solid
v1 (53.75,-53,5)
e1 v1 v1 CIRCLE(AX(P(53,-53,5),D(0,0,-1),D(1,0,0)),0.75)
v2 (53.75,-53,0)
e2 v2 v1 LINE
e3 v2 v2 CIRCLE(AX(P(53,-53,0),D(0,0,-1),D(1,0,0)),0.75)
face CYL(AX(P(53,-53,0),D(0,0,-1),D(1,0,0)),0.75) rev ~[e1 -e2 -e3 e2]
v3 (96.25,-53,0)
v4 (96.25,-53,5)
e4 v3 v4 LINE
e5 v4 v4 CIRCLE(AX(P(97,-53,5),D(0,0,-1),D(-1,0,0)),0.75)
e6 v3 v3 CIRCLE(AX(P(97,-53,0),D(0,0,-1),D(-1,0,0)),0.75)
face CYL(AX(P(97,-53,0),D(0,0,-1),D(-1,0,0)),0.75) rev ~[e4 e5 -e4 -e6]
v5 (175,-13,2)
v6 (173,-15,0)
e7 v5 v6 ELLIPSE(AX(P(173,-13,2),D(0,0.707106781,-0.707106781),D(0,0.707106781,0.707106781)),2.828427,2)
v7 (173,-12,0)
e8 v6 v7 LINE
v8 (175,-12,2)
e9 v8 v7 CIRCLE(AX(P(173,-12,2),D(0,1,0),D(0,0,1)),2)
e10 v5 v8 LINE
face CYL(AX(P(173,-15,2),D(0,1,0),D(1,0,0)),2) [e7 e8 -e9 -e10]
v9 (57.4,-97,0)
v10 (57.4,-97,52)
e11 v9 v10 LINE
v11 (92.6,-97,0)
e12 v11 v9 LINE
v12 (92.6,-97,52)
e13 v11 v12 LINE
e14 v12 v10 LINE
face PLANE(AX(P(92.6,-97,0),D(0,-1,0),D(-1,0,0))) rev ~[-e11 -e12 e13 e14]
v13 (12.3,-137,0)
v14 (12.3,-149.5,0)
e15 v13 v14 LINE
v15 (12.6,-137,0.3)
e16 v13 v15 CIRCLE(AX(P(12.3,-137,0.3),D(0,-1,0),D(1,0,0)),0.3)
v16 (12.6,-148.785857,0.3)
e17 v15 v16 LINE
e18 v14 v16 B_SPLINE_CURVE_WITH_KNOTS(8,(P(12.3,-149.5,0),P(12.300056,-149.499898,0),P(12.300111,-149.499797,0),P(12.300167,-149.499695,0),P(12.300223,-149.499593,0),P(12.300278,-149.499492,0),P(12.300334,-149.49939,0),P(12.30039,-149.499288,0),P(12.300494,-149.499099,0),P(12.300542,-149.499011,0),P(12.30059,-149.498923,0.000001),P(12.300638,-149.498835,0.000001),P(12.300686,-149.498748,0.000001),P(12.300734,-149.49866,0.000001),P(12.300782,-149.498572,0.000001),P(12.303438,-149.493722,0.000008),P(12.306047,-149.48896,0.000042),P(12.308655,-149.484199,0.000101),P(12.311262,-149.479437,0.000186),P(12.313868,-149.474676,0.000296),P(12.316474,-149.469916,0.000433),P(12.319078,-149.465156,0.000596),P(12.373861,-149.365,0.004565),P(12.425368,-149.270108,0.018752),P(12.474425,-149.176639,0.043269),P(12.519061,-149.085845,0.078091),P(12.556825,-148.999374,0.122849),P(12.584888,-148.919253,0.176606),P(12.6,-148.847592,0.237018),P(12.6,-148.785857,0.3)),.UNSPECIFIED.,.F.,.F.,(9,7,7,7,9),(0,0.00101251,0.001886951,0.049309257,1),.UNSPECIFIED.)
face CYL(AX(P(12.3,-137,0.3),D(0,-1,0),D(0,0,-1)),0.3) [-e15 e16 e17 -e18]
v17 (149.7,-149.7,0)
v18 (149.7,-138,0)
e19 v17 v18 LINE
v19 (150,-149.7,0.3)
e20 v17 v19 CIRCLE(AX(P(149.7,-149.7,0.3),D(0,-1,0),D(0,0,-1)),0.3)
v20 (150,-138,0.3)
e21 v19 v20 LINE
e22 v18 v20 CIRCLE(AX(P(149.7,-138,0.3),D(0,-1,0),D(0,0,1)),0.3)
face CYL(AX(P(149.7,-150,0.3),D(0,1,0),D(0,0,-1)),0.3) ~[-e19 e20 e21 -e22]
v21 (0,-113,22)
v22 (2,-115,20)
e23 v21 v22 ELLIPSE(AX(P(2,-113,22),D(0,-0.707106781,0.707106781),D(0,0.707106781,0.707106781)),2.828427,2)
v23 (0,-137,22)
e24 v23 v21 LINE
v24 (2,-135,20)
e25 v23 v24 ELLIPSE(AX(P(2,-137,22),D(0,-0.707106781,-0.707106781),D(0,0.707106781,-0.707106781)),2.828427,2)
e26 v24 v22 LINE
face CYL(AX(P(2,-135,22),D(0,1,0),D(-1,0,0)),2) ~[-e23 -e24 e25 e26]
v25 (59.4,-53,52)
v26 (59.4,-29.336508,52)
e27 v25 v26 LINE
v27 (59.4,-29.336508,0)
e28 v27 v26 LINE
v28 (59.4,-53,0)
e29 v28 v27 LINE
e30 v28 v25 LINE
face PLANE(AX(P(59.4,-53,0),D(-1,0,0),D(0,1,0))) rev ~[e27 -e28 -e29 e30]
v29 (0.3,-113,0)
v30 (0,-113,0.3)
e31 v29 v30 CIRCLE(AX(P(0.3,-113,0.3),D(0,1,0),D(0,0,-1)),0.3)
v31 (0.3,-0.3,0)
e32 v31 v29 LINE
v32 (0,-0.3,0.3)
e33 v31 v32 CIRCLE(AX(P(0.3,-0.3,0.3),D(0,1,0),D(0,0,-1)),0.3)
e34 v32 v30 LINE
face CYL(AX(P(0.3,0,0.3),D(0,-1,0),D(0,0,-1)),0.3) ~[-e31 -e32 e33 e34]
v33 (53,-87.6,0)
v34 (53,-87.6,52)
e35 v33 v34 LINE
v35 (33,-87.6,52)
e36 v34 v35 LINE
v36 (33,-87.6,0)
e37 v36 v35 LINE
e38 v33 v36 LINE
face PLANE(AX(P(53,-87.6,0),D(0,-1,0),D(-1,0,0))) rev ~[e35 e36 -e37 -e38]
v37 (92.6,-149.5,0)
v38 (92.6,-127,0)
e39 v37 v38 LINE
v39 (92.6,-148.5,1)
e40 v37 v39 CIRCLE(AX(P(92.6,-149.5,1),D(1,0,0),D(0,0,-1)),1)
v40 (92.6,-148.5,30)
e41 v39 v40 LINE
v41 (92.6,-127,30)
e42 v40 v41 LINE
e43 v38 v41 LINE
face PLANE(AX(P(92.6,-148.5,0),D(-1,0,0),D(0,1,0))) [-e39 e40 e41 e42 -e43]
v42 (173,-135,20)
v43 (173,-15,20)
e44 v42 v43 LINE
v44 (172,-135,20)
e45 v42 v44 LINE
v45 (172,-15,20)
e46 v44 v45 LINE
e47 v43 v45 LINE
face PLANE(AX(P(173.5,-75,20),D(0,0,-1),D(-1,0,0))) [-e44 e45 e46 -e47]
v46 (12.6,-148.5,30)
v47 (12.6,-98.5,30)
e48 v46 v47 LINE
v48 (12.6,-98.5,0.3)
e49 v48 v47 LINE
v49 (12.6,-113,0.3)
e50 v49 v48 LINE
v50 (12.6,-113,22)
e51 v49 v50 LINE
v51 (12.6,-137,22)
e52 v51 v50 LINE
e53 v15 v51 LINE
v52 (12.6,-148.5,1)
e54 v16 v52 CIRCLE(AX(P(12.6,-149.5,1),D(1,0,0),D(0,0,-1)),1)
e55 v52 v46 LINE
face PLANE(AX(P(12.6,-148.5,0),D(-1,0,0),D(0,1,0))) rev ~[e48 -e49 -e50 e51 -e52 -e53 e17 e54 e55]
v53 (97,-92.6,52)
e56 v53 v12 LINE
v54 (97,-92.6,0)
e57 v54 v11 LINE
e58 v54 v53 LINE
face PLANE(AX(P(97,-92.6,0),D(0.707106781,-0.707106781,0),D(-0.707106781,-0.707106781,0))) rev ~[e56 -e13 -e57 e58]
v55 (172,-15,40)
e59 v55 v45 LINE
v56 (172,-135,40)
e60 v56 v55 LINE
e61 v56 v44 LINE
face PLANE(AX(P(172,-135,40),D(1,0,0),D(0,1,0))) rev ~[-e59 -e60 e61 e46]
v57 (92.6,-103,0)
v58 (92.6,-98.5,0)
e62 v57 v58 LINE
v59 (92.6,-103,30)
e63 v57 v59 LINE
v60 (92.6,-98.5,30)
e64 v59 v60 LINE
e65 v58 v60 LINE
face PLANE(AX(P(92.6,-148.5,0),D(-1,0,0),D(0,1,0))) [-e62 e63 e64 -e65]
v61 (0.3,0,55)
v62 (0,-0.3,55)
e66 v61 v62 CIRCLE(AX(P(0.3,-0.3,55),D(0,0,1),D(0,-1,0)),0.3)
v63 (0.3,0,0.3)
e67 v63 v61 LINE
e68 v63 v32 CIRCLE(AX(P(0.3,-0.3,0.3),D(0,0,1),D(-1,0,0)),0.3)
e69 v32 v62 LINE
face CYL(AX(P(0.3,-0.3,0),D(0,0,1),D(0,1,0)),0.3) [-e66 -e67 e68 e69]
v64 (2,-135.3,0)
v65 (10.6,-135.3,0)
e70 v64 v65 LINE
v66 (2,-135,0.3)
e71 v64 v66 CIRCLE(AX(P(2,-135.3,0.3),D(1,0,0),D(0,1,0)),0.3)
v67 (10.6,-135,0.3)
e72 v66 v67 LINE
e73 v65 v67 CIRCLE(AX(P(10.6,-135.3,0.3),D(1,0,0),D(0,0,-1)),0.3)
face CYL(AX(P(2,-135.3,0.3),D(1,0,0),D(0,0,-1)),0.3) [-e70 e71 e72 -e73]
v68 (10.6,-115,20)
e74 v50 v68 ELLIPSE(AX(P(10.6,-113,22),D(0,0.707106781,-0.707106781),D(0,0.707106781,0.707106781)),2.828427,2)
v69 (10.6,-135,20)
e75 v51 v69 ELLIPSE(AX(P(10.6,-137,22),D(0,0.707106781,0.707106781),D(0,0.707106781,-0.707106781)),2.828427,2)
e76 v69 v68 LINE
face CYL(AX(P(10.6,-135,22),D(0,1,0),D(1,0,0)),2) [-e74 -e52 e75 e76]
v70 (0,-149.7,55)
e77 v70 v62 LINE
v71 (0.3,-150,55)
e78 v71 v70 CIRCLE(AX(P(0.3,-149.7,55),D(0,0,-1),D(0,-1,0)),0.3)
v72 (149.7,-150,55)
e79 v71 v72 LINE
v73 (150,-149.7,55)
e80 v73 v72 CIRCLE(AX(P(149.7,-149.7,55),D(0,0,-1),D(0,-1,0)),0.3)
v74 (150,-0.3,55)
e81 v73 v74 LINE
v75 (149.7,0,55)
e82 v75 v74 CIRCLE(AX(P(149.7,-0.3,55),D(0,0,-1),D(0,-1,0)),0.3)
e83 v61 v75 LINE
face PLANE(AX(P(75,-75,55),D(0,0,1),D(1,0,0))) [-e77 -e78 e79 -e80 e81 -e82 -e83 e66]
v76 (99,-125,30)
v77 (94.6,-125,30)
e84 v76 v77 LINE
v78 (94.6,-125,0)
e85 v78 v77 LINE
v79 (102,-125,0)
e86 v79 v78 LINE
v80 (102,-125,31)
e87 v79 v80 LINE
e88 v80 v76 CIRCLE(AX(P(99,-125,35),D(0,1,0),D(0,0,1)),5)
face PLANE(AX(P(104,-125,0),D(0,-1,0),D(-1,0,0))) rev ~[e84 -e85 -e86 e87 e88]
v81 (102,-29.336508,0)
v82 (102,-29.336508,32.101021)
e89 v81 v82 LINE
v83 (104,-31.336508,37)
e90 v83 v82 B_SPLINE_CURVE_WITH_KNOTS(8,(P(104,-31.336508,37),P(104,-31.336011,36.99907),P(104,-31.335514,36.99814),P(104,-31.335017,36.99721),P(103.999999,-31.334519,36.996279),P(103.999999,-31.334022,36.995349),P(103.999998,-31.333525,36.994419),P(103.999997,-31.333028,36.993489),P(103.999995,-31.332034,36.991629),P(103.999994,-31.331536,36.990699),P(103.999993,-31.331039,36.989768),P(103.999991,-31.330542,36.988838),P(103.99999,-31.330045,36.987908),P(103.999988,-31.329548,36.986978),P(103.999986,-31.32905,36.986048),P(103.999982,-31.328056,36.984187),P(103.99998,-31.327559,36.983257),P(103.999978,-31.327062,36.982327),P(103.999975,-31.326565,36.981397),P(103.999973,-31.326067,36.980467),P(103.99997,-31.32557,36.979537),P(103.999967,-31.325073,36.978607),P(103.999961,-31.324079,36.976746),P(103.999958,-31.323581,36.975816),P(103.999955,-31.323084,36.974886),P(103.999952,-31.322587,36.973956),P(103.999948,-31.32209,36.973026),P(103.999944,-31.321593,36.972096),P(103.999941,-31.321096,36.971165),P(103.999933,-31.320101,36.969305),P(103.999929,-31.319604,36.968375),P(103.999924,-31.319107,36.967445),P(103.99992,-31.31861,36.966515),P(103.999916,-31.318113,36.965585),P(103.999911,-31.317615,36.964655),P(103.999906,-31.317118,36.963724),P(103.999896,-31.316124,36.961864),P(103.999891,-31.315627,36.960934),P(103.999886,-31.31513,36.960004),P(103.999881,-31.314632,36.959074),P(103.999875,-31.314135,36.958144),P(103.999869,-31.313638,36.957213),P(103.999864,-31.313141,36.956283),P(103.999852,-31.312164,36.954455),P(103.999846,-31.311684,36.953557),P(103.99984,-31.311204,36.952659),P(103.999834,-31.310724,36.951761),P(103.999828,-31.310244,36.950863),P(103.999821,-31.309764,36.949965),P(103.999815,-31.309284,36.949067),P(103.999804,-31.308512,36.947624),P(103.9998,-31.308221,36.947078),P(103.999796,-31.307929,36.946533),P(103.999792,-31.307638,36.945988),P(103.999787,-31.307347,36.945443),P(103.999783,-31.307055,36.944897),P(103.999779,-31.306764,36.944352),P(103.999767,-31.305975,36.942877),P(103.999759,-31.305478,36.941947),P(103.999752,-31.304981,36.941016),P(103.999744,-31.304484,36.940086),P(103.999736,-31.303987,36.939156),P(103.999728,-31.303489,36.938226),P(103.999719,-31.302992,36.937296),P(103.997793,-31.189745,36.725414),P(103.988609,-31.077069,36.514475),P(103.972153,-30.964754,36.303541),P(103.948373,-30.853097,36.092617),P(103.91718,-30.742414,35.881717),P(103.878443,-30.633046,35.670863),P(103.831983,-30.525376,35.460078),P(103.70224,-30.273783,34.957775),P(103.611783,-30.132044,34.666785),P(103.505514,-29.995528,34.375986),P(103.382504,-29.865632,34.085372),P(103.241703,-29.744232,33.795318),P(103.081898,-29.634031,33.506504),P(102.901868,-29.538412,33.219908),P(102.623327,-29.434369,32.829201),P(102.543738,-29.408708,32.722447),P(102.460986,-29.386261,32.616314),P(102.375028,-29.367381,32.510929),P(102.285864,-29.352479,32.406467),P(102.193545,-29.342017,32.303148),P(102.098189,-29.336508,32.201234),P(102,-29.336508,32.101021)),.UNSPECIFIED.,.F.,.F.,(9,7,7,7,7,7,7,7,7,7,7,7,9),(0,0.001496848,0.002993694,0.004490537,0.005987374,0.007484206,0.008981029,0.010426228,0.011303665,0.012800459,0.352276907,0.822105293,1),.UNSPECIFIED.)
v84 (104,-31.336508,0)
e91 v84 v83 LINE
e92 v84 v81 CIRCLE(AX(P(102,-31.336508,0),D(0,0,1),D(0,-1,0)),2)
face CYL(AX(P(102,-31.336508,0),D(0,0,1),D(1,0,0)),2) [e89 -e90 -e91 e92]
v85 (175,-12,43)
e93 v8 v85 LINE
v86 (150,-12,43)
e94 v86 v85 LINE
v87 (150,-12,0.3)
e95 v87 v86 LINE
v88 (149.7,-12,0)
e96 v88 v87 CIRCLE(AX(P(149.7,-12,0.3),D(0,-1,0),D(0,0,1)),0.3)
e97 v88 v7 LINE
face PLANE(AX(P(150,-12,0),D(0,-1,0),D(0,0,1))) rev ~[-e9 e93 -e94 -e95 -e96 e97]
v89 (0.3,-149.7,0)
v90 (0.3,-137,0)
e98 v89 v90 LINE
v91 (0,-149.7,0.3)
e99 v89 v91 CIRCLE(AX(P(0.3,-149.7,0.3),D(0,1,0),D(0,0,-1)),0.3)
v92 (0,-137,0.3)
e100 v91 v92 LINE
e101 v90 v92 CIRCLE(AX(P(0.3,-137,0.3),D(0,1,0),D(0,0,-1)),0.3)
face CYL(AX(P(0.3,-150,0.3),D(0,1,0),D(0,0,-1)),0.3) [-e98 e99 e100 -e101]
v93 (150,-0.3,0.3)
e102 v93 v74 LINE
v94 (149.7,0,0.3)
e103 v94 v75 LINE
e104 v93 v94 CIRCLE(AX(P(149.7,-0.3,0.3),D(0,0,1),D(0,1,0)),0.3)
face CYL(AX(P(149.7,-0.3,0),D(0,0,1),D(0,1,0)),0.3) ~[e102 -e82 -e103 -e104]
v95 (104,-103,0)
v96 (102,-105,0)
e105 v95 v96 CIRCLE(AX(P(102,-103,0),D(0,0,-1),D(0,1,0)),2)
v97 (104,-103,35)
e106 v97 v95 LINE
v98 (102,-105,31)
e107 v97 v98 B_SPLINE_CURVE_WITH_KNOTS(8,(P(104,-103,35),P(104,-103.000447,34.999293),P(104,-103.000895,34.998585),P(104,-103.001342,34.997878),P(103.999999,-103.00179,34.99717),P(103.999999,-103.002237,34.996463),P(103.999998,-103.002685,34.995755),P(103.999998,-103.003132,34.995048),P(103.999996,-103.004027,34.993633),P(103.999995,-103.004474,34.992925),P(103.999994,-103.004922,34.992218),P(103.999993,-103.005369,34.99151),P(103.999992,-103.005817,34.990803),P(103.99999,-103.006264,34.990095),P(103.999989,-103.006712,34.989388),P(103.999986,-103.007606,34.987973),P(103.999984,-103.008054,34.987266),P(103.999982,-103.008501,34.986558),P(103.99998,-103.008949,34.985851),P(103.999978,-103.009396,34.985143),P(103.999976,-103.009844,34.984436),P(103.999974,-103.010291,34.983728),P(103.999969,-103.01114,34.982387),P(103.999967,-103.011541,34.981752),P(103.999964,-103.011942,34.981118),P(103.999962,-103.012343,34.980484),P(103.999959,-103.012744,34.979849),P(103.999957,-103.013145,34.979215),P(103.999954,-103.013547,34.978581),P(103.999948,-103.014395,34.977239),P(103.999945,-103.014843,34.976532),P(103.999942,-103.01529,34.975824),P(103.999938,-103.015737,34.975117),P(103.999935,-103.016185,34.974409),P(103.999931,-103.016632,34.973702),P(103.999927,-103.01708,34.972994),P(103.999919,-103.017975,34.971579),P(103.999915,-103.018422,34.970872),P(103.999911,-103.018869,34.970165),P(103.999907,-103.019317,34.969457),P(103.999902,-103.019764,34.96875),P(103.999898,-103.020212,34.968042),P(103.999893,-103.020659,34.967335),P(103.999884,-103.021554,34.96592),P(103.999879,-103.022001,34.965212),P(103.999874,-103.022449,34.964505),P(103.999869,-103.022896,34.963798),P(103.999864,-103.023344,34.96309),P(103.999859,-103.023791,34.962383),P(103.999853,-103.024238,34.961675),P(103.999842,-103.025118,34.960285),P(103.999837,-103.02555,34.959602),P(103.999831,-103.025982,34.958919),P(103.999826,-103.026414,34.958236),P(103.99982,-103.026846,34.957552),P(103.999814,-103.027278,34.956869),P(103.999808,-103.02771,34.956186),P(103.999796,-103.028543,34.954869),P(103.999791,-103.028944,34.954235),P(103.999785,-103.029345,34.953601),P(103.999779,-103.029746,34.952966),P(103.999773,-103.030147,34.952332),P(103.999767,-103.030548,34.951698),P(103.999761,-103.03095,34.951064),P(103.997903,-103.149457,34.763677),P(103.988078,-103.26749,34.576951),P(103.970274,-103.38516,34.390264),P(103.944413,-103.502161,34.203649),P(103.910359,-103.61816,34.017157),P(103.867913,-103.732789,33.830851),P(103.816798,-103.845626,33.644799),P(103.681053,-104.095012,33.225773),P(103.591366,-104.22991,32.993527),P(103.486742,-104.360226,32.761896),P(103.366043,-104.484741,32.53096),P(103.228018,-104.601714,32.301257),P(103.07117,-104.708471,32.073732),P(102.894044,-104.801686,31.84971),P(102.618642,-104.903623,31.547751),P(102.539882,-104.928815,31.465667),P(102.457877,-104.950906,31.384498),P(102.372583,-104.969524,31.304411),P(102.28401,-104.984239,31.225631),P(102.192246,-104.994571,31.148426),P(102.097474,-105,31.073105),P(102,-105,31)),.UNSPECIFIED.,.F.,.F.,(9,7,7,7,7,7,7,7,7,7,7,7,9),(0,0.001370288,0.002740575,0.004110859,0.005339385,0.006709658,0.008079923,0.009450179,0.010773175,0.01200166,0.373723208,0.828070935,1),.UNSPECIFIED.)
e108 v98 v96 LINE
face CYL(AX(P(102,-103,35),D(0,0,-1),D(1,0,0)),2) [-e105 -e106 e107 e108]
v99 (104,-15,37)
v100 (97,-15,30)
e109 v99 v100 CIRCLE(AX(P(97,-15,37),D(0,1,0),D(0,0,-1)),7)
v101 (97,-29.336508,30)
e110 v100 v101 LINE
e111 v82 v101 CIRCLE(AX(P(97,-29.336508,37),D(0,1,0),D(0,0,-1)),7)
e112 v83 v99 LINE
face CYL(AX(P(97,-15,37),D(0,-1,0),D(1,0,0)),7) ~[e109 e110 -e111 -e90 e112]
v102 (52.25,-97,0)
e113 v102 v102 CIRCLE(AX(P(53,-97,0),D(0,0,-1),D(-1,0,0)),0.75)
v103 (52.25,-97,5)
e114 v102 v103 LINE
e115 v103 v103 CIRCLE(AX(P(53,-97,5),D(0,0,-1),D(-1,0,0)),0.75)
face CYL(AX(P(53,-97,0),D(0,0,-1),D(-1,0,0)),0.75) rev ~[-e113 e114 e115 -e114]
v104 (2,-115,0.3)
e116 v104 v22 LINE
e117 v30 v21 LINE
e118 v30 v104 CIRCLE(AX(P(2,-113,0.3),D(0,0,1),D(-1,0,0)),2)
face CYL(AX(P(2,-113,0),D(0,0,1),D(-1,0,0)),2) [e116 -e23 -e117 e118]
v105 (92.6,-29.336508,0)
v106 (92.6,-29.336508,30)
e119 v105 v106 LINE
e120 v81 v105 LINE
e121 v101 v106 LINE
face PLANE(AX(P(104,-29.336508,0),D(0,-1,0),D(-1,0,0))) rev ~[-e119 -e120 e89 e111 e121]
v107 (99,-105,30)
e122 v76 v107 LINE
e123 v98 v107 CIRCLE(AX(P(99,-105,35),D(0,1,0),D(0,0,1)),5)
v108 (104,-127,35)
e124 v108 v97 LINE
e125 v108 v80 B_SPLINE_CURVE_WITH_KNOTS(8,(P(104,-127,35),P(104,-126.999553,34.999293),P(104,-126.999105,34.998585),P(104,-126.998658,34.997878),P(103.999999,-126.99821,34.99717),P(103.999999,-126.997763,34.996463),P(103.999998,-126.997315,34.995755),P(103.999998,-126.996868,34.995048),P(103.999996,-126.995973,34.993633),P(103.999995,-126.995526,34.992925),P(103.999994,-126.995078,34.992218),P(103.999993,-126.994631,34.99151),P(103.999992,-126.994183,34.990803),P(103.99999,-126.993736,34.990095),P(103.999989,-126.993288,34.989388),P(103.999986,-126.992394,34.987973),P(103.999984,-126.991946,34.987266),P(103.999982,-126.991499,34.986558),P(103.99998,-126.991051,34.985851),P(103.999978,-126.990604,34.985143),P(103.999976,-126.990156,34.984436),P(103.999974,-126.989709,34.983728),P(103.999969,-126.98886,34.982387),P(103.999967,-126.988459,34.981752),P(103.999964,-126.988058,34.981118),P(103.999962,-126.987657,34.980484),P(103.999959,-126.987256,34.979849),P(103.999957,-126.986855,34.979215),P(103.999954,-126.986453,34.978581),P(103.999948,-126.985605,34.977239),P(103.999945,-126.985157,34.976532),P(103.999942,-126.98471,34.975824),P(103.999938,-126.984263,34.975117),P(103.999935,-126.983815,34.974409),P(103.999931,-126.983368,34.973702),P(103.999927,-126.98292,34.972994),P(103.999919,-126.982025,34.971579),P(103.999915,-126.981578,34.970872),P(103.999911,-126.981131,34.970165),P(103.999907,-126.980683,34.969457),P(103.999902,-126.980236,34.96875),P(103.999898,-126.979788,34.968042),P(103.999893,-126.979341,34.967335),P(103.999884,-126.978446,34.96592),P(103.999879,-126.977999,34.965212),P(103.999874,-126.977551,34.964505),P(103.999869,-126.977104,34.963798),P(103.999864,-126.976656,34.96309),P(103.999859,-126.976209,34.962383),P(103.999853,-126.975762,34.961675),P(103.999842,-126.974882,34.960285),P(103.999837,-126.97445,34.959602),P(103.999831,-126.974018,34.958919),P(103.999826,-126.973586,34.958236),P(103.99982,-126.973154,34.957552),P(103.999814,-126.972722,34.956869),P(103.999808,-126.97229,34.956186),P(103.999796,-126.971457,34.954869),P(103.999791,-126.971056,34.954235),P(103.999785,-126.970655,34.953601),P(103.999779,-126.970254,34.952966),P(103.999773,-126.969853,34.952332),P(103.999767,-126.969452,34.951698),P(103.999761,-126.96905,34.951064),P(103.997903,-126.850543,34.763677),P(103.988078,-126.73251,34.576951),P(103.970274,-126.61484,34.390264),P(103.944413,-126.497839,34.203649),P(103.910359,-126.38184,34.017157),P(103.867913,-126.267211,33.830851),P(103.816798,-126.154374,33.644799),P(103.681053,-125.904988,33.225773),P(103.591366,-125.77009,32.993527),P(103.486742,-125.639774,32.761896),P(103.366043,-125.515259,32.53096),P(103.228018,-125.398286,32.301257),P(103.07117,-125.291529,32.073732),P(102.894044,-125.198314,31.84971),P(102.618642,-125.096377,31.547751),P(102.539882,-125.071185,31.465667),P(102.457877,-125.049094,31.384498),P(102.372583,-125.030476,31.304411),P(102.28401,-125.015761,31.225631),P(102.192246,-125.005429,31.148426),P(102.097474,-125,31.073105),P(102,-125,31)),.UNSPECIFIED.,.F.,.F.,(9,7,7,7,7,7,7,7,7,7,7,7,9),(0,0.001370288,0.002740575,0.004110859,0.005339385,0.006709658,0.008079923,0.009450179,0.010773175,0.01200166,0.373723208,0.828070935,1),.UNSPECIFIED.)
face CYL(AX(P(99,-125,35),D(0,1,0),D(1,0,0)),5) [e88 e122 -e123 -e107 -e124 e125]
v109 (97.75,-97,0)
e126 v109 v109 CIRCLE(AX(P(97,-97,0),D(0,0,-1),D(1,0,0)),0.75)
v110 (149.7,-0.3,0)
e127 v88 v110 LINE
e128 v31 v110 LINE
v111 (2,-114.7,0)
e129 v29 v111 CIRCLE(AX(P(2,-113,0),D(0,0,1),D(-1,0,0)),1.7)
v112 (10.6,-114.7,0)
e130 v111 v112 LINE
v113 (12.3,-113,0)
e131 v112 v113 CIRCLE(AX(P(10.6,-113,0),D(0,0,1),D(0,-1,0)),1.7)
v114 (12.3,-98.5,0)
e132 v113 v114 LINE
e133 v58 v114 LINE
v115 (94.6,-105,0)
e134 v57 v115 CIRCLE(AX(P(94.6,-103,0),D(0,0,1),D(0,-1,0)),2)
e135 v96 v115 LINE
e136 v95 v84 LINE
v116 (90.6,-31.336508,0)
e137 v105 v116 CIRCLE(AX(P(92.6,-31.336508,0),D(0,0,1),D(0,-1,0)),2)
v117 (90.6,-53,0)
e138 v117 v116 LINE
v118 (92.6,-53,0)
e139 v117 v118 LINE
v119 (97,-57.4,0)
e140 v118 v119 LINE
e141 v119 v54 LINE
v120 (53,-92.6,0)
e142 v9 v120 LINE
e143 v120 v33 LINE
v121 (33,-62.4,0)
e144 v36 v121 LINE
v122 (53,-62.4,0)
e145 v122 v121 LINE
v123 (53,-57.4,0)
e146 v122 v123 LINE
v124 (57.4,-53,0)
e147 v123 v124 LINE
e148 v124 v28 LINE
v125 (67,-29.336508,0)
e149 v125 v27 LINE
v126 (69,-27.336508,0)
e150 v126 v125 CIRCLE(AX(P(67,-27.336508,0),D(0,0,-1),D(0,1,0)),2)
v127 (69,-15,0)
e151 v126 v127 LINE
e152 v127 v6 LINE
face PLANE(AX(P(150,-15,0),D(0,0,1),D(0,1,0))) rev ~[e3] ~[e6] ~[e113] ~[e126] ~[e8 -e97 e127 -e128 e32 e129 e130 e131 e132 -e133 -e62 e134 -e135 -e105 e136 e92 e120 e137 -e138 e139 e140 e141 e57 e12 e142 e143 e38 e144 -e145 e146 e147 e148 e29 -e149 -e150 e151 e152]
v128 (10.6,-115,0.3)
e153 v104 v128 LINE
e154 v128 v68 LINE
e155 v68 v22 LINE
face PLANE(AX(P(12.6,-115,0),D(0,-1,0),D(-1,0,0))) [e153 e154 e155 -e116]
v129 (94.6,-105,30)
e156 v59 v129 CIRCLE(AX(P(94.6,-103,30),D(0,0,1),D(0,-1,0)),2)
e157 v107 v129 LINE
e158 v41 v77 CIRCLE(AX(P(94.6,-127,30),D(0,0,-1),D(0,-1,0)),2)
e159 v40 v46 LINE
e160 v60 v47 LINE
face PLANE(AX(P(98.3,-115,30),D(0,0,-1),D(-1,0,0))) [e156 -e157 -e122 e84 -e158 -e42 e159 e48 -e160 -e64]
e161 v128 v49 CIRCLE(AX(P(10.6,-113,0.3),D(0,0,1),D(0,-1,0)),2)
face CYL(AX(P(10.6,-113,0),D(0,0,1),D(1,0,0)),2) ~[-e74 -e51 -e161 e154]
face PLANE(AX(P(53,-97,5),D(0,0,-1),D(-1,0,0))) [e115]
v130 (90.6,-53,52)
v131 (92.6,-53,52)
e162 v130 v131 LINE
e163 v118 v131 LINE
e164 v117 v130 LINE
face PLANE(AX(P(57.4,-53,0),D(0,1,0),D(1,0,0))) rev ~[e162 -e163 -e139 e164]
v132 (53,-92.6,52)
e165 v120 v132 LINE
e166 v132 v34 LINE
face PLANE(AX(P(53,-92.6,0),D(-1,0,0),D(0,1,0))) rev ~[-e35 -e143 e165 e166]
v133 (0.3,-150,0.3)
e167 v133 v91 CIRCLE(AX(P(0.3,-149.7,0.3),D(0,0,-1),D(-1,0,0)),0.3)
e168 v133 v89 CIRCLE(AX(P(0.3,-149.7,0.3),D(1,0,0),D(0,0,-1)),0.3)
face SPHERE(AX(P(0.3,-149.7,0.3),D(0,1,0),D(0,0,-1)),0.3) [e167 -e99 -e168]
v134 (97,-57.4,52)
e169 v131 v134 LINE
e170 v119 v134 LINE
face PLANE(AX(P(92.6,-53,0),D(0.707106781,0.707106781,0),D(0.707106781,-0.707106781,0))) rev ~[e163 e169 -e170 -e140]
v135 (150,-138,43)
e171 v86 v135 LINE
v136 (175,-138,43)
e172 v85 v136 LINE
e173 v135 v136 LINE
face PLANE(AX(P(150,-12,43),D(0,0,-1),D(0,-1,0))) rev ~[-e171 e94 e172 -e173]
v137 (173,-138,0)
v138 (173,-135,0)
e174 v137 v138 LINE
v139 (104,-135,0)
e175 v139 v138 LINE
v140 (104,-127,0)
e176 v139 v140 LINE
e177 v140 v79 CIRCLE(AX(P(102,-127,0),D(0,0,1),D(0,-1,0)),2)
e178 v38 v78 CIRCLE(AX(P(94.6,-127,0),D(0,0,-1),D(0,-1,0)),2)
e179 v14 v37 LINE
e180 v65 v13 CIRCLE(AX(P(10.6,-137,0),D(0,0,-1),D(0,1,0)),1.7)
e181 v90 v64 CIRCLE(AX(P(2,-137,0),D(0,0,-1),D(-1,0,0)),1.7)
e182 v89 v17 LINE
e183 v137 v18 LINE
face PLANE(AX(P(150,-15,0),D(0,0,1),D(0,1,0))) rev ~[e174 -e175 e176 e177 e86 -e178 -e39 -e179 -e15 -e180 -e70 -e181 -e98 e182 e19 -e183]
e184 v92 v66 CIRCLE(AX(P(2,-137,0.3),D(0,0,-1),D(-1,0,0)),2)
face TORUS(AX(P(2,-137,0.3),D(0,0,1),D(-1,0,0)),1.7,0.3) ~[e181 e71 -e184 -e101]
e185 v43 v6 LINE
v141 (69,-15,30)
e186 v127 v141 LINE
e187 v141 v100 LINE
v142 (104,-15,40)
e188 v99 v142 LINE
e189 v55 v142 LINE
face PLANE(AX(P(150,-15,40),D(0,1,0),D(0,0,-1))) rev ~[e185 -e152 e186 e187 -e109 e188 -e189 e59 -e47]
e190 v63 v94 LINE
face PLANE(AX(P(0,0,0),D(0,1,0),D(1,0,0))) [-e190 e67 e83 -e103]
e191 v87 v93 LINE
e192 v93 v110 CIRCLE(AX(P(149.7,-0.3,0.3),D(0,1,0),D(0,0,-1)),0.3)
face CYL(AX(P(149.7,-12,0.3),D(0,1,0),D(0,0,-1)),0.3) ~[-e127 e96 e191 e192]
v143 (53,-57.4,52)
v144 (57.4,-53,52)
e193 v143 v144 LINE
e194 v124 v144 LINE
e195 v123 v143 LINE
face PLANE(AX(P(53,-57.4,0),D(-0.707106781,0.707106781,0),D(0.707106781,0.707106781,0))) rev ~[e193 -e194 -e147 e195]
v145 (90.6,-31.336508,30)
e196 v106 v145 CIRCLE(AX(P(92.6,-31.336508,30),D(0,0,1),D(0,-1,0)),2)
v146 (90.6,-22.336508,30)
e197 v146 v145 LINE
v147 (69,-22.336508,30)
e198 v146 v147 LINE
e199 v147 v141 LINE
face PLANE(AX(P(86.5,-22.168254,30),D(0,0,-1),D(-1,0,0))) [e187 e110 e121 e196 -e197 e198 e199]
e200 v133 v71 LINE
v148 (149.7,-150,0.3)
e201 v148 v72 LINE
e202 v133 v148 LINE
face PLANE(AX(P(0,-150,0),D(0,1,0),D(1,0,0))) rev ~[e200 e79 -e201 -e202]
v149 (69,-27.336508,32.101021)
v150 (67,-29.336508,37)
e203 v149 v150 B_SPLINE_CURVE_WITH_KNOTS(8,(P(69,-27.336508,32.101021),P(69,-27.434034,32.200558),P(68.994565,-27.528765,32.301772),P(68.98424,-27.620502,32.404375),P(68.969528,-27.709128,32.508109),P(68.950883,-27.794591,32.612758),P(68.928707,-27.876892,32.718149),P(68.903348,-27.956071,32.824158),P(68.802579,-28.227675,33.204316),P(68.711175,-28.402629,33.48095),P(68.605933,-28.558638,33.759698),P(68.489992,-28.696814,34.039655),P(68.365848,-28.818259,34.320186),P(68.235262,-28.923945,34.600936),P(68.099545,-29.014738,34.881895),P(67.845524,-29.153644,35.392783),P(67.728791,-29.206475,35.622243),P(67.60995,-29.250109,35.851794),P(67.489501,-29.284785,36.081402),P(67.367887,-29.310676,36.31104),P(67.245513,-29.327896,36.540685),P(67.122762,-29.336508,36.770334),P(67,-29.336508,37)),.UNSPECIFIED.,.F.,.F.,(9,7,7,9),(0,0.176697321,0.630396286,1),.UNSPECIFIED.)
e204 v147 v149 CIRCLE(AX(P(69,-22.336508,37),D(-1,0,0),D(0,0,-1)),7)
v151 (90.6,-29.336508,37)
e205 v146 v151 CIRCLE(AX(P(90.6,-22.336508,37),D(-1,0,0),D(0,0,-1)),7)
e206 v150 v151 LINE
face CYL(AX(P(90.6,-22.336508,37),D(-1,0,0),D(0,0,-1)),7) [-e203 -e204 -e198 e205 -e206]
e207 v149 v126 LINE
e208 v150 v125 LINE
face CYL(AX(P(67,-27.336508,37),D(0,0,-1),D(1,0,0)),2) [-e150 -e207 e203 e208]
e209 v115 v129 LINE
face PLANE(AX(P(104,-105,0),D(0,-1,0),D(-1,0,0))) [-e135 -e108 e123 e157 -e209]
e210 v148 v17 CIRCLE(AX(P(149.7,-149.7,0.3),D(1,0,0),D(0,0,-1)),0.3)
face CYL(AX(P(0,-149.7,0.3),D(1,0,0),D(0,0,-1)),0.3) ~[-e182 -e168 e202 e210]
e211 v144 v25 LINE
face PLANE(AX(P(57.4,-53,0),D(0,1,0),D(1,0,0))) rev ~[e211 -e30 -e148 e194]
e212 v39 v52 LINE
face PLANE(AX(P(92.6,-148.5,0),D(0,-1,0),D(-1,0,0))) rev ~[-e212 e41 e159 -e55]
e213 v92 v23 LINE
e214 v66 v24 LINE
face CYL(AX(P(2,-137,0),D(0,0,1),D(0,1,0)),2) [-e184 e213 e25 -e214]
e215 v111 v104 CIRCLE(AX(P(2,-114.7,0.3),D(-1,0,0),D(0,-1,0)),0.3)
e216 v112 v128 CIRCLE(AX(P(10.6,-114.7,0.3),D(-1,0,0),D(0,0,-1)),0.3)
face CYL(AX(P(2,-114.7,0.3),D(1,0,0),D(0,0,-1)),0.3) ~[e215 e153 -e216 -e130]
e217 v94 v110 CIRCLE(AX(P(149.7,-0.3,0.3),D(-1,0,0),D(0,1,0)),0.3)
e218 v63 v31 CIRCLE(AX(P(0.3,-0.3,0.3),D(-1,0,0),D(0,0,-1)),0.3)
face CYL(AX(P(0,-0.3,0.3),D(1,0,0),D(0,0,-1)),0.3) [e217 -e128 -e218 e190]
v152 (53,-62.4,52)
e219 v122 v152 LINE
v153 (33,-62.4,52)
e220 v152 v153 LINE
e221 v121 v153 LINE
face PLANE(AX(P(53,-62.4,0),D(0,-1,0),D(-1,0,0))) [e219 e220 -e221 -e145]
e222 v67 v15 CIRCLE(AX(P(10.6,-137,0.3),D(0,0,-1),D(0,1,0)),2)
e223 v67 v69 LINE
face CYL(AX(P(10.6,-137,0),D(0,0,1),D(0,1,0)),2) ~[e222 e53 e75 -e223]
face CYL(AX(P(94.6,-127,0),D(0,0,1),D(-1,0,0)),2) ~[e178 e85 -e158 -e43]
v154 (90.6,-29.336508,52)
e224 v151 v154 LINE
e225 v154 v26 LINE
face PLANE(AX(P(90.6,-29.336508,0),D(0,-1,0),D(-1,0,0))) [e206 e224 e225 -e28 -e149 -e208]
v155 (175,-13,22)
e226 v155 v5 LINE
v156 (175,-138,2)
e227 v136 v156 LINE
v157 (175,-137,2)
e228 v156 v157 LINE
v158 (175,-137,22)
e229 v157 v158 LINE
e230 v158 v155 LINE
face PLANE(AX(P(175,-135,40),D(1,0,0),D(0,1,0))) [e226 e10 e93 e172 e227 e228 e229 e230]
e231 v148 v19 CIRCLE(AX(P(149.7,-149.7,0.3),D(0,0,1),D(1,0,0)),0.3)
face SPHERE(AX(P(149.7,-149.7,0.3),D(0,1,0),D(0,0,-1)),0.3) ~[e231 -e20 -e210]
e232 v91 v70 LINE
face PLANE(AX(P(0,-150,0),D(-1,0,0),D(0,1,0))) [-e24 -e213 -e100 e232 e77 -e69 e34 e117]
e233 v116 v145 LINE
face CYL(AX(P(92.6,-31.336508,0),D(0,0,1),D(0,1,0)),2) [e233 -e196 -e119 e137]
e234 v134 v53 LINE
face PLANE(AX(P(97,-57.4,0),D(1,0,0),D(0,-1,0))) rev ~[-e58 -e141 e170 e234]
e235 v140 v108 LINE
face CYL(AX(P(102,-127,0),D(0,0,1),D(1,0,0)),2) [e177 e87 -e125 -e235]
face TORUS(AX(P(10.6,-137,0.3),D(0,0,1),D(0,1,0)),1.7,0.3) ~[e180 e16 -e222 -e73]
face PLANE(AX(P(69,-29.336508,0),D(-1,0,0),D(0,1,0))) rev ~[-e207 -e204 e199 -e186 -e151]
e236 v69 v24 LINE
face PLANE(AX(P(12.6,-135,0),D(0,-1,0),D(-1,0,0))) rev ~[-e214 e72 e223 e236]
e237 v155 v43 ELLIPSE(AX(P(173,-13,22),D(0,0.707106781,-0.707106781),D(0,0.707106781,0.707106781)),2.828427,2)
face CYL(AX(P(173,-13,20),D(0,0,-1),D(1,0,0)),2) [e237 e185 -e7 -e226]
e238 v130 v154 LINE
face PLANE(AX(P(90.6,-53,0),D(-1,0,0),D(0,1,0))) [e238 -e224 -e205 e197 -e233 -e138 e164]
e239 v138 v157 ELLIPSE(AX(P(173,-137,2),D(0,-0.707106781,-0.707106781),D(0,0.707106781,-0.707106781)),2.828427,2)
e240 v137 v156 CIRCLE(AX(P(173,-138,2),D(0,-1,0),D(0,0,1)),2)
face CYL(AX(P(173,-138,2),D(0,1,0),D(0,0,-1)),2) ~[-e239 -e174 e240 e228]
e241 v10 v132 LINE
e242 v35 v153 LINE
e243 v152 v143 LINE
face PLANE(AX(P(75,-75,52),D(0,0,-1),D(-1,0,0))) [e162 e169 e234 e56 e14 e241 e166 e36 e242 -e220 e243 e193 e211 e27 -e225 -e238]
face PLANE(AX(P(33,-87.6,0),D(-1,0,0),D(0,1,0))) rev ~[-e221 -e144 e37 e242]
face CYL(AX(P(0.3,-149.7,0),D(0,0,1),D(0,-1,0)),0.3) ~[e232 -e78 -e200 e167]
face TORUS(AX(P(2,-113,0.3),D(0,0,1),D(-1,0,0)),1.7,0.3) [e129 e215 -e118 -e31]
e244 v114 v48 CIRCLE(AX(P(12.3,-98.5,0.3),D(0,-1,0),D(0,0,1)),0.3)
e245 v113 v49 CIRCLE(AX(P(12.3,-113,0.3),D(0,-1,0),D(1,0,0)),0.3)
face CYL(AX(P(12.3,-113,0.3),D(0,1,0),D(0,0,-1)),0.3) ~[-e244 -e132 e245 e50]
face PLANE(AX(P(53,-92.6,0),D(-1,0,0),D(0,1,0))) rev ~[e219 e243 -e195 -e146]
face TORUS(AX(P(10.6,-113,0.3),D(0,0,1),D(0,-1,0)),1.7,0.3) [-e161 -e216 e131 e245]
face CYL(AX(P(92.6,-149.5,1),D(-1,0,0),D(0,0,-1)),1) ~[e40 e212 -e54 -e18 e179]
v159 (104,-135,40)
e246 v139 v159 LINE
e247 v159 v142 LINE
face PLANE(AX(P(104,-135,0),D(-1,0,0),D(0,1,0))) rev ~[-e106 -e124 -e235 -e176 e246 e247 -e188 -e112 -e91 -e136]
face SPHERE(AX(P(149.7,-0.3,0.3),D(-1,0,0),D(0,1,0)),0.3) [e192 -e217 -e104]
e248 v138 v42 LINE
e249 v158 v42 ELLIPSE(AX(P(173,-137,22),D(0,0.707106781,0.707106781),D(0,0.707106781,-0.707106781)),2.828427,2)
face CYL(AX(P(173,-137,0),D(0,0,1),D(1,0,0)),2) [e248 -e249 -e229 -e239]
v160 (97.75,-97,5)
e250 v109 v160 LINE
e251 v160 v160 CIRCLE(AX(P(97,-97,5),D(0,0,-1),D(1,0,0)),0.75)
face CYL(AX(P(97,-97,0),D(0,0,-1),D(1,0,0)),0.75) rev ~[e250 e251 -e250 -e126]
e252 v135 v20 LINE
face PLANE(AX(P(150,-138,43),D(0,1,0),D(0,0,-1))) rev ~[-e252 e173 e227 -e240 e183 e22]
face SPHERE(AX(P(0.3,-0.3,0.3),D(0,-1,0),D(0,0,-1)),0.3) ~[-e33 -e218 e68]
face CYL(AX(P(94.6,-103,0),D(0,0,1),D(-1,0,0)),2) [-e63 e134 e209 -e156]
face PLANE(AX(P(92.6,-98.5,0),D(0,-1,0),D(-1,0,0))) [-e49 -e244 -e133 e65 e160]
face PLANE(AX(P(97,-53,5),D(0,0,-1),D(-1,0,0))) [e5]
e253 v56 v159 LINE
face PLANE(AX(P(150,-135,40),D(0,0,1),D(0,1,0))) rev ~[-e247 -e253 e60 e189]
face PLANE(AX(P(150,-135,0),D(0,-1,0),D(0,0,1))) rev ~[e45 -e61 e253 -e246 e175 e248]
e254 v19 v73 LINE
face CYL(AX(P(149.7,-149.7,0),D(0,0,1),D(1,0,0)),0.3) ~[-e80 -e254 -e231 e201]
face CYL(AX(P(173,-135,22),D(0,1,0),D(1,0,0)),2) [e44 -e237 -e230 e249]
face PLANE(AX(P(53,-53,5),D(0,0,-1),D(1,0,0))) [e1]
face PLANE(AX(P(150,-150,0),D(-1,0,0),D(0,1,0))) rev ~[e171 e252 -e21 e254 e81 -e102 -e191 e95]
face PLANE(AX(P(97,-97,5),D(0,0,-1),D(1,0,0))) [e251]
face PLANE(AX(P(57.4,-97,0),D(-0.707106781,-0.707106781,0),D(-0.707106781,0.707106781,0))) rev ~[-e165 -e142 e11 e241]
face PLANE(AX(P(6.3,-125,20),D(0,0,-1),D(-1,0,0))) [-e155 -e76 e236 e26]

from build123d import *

# Parameters (mm, degrees)
SKETCH_1_W           = 150
SKETCH_1_H           = 150
EXTRUDE_2_DEPTH      = 55
CUT_EXTRUDE_1_DEPTH  = 52
SKETCH_3_W           = 20
SKETCH_3_H           = 25.2
CUT_EXTRUDE_2_DEPTH  = 52
SKETCH_4_W           = 31.2
SKETCH_4_H           = 23.663491794
CUT_EXTRUDE_3_DEPTH  = 52
SKETCH_5_W           = 46
SKETCH_5_H           = 120
SKETCH_5_W_2         = 29
CUT_EXTRUDE_4_DEPTH  = 40
SKETCH_6_W           = 3
SKETCH_6_H           = 120
EXTRUDE_4_DEPTH      = 25
SKETCH_7_W           = 3
SKETCH_7_H           = 120
EXTRUDE_5_DEPTH      = 20
CUT_EXTRUDE_6_DEPTH  = 30
FILLET_1_R           = 7
SKETCH_10_W          = 80
SKETCH_10_H          = 50
CUT_EXTRUDE_7_DEPTH  = 30
SKETCH_11_W          = 11.4
SKETCH_11_H          = 20
CUT_EXTRUDE_8_DEPTH  = 30
FILLET_2_R           = 5
FILLET_3_R           = 2
SKETCH_12_W          = 12.6
SKETCH_12_H          = 20
CUT_EXTRUDE_9_DEPTH  = 20
FILLET_4_R           = 2
SKETCH_13_R          = 0.75
CUT_EXTRUDE_10_DEPTH = 5
FILLET_5_R           = 2
FILLET_6_R           = 1
FILLET_8_R           = 0.3


with BuildPart() as part:
    # 草图1 → 凸台-拉伸2 (new body)
    with BuildSketch(Plane.XY):
        with Locations((75, -75)):
            Rectangle(SKETCH_1_W, SKETCH_1_H)
    extrude(amount=EXTRUDE_2_DEPTH)

    # 草图2 → 切除-拉伸1 (cut)
    with BuildSketch(Plane(origin=(0, 0, 0), x_dir=(-1, 0, 0), z_dir=(0, 0, -1))):
        Polygon((-57.4, -53), (-92.6, -53), (-97, -57.4), (-97, -92.6), (-92.6, -97), (-57.4, -97), (-53, -92.6), (-53, -57.4), align=None)
    extrude(amount=-CUT_EXTRUDE_1_DEPTH, mode=Mode.SUBTRACT)

    # 草图3 → 切除-拉伸2 (cut)
    with BuildSketch(Plane(origin=(0, 0, 0), x_dir=(-1, 0, 0), z_dir=(0, 0, -1))):
        with Locations((-43, -75)):
            Rectangle(SKETCH_3_W, SKETCH_3_H)
    extrude(amount=-CUT_EXTRUDE_2_DEPTH, mode=Mode.SUBTRACT)

    # 草图4 → 切除-拉伸3 (cut)
    with BuildSketch(Plane(origin=(0, 0, 0), x_dir=(-1, 0, 0), z_dir=(0, 0, -1))):
        with Locations((-75, -41.168254103)):
            Rectangle(SKETCH_4_W, SKETCH_4_H)
    extrude(amount=-CUT_EXTRUDE_3_DEPTH, mode=Mode.SUBTRACT)

    # 草图5 → 切除-拉伸4 (cut)
    with BuildSketch(Plane(origin=(0, 0, 0), x_dir=(-1, 0, 0), z_dir=(0, 0, -1))):
        with Locations((-127, -75)):
            Rectangle(SKETCH_5_W, SKETCH_5_H)
        with Locations((-164.5, -75)):
            Rectangle(SKETCH_5_W_2, SKETCH_5_H)
    extrude(amount=-CUT_EXTRUDE_4_DEPTH, mode=Mode.SUBTRACT)

    # 草图6 → 凸台-拉伸4 (add)
    with BuildSketch(Plane(origin=(150, 0, 0), x_dir=(0, 0, -1), z_dir=(1, 0, 0))):
        Polygon((-43, -15), (-40, -15), (0, -15), (0, -12), (-43, -12), align=None)
        with Locations((-41.5, -75)):
            Rectangle(SKETCH_6_W, SKETCH_6_H)
        Polygon((0, -135), (-40, -135), (-43, -135), (-43, -138), (0, -138), align=None)
    extrude(amount=EXTRUDE_4_DEPTH)

    # 草图7 → 凸台-拉伸5 (add)
    with BuildSketch(Plane(origin=(0, 0, 40), x_dir=(-1, 0, 0), z_dir=(0, 0, -1))):
        with Locations((-173.5, -75)):
            Rectangle(SKETCH_7_W, SKETCH_7_H)
    extrude(amount=EXTRUDE_5_DEPTH)

    # 草图8 → 切除-拉伸6 (cut)
    with BuildSketch(Plane(origin=(0, 0, 0), x_dir=(-1, 0, 0), z_dir=(0, 0, -1))):
        Polygon((-69, -15), (-104, -15), (-104, -29.336508206), (-90.6, -29.336508206), (-69, -29.336508206), align=None)
    extrude(amount=-CUT_EXTRUDE_6_DEPTH, mode=Mode.SUBTRACT)

    # 圆角1
    fillet_1_edges = [part.edges().sort_by_distance(p)[0] for p in [
        (104, -22.168254103, 30),
        (79.8, -29.336508206, 30),
    ]]
    fillet(fillet_1_edges, radius=FILLET_1_R)

    # 草图10 → 切除-拉伸7 (cut)
    with BuildSketch(Plane(origin=(0, 0, 0), x_dir=(-1, 0, 0), z_dir=(0, 0, -1))):
        with Locations((-52.6, -123.5)):
            Rectangle(SKETCH_10_W, SKETCH_10_H)
    extrude(amount=-CUT_EXTRUDE_7_DEPTH, mode=Mode.SUBTRACT)

    # 草图11 → 切除-拉伸8 (cut)
    with BuildSketch(Plane(origin=(0, 0, 0), x_dir=(-1, 0, 0), z_dir=(0, 0, -1))):
        with Locations((-98.3, -115)):
            Rectangle(SKETCH_11_W, SKETCH_11_H)
    extrude(amount=-CUT_EXTRUDE_8_DEPTH, mode=Mode.SUBTRACT)

    # 圆角2
    fillet_2_edges = [part.edges().sort_by_distance(p)[0] for p in [
        (104, -115, 30),
    ]]
    fillet(fillet_2_edges, radius=FILLET_2_R)

    # 圆角3
    fillet_3_edges = [part.edges().sort_by_distance(p)[0] for p in [
        (90.6, -29.336508206, 15),
        (69, -29.336508206, 18.5),
        (104, -29.336508206, 18.5),
        (104, -125, 17.5),
        (104, -105, 17.5),
        (92.6, -105, 15),
        (92.6, -125, 15),
    ]]
    fillet(fillet_3_edges, radius=FILLET_3_R)

    # 草图12 → 切除-拉伸9 (cut)
    with BuildSketch(Plane(origin=(0, 0, 0), x_dir=(-1, 0, 0), z_dir=(0, 0, -1))):
        with Locations((-6.3, -125)):
            Rectangle(SKETCH_12_W, SKETCH_12_H)
    extrude(amount=-CUT_EXTRUDE_9_DEPTH, mode=Mode.SUBTRACT)

    # 圆角4
    fillet_4_edges = [part.edges().sort_by_distance(p)[0] for p in [
        (12.6, -125, 20),
        (12.6, -135, 10),
        (12.6, -115, 10),
        (0, -125, 20),
        (0, -115, 10),
        (0, -135, 10),
    ]]
    fillet(fillet_4_edges, radius=FILLET_4_R)

    # 草图13 → 切除-拉伸10 (cut)
    with BuildSketch(Plane(origin=(0, 0, 0), x_dir=(-1, 0, 0), z_dir=(0, 0, -1))):
        with Locations((-97, -53)):
            Circle(SKETCH_13_R)
        with Locations(Location((-97, -97, 0), (0, 0, 180))):
            Circle(SKETCH_13_R)
        with Locations((-53, -97)):
            Circle(SKETCH_13_R)
        with Locations(Location((-53, -53, 0), (0, 0, 180))):
            Circle(SKETCH_13_R)
    extrude(amount=-CUT_EXTRUDE_10_DEPTH, mode=Mode.SUBTRACT)

    # 圆角5
    fillet_5_edges = [part.edges().sort_by_distance(p)[0] for p in [
        (175, -13.5, 0),
        (175, -75, 20),
        (175, -15, 10),
        (175, -136.5, 0),
        (175, -135, 10),
    ]]
    fillet(fillet_5_edges, radius=FILLET_5_R)

    # 圆角6
    fillet_6_edges = [part.edges().sort_by_distance(p)[0] for p in [
        (52.6, -148.5, 0),
    ]]
    fillet(fillet_6_edges, radius=FILLET_6_R)

    # 圆角8
    fillet_8_edges = [part.edges().sort_by_distance(p)[0] for p in [
        (12.6, -105.75, 0),
        (0, -143.5, 0),
        (6.3, -135, 0),
        (12.6, -143.25, 0),
        (12.014213562, -135.585786438, 0),
        (0.585786438, -135.585786438, 0),
        (6.3, -115, 0),
        (0.585786438, -114.414213562, 0),
        (12.014213562, -114.414213562, 0),
        (75, 0, 0),
        (150, -144, 0),
        (75, -150, 0),
        (0, -56.5, 0),
        (0, 0, 27.5),
        (150, 0, 27.5),
        (150, -150, 27.5),
        (0, -150, 27.5),
        (150, -6, 0),
    ]]
    fillet(fillet_8_edges, radius=FILLET_8_R)


solid = part.part
